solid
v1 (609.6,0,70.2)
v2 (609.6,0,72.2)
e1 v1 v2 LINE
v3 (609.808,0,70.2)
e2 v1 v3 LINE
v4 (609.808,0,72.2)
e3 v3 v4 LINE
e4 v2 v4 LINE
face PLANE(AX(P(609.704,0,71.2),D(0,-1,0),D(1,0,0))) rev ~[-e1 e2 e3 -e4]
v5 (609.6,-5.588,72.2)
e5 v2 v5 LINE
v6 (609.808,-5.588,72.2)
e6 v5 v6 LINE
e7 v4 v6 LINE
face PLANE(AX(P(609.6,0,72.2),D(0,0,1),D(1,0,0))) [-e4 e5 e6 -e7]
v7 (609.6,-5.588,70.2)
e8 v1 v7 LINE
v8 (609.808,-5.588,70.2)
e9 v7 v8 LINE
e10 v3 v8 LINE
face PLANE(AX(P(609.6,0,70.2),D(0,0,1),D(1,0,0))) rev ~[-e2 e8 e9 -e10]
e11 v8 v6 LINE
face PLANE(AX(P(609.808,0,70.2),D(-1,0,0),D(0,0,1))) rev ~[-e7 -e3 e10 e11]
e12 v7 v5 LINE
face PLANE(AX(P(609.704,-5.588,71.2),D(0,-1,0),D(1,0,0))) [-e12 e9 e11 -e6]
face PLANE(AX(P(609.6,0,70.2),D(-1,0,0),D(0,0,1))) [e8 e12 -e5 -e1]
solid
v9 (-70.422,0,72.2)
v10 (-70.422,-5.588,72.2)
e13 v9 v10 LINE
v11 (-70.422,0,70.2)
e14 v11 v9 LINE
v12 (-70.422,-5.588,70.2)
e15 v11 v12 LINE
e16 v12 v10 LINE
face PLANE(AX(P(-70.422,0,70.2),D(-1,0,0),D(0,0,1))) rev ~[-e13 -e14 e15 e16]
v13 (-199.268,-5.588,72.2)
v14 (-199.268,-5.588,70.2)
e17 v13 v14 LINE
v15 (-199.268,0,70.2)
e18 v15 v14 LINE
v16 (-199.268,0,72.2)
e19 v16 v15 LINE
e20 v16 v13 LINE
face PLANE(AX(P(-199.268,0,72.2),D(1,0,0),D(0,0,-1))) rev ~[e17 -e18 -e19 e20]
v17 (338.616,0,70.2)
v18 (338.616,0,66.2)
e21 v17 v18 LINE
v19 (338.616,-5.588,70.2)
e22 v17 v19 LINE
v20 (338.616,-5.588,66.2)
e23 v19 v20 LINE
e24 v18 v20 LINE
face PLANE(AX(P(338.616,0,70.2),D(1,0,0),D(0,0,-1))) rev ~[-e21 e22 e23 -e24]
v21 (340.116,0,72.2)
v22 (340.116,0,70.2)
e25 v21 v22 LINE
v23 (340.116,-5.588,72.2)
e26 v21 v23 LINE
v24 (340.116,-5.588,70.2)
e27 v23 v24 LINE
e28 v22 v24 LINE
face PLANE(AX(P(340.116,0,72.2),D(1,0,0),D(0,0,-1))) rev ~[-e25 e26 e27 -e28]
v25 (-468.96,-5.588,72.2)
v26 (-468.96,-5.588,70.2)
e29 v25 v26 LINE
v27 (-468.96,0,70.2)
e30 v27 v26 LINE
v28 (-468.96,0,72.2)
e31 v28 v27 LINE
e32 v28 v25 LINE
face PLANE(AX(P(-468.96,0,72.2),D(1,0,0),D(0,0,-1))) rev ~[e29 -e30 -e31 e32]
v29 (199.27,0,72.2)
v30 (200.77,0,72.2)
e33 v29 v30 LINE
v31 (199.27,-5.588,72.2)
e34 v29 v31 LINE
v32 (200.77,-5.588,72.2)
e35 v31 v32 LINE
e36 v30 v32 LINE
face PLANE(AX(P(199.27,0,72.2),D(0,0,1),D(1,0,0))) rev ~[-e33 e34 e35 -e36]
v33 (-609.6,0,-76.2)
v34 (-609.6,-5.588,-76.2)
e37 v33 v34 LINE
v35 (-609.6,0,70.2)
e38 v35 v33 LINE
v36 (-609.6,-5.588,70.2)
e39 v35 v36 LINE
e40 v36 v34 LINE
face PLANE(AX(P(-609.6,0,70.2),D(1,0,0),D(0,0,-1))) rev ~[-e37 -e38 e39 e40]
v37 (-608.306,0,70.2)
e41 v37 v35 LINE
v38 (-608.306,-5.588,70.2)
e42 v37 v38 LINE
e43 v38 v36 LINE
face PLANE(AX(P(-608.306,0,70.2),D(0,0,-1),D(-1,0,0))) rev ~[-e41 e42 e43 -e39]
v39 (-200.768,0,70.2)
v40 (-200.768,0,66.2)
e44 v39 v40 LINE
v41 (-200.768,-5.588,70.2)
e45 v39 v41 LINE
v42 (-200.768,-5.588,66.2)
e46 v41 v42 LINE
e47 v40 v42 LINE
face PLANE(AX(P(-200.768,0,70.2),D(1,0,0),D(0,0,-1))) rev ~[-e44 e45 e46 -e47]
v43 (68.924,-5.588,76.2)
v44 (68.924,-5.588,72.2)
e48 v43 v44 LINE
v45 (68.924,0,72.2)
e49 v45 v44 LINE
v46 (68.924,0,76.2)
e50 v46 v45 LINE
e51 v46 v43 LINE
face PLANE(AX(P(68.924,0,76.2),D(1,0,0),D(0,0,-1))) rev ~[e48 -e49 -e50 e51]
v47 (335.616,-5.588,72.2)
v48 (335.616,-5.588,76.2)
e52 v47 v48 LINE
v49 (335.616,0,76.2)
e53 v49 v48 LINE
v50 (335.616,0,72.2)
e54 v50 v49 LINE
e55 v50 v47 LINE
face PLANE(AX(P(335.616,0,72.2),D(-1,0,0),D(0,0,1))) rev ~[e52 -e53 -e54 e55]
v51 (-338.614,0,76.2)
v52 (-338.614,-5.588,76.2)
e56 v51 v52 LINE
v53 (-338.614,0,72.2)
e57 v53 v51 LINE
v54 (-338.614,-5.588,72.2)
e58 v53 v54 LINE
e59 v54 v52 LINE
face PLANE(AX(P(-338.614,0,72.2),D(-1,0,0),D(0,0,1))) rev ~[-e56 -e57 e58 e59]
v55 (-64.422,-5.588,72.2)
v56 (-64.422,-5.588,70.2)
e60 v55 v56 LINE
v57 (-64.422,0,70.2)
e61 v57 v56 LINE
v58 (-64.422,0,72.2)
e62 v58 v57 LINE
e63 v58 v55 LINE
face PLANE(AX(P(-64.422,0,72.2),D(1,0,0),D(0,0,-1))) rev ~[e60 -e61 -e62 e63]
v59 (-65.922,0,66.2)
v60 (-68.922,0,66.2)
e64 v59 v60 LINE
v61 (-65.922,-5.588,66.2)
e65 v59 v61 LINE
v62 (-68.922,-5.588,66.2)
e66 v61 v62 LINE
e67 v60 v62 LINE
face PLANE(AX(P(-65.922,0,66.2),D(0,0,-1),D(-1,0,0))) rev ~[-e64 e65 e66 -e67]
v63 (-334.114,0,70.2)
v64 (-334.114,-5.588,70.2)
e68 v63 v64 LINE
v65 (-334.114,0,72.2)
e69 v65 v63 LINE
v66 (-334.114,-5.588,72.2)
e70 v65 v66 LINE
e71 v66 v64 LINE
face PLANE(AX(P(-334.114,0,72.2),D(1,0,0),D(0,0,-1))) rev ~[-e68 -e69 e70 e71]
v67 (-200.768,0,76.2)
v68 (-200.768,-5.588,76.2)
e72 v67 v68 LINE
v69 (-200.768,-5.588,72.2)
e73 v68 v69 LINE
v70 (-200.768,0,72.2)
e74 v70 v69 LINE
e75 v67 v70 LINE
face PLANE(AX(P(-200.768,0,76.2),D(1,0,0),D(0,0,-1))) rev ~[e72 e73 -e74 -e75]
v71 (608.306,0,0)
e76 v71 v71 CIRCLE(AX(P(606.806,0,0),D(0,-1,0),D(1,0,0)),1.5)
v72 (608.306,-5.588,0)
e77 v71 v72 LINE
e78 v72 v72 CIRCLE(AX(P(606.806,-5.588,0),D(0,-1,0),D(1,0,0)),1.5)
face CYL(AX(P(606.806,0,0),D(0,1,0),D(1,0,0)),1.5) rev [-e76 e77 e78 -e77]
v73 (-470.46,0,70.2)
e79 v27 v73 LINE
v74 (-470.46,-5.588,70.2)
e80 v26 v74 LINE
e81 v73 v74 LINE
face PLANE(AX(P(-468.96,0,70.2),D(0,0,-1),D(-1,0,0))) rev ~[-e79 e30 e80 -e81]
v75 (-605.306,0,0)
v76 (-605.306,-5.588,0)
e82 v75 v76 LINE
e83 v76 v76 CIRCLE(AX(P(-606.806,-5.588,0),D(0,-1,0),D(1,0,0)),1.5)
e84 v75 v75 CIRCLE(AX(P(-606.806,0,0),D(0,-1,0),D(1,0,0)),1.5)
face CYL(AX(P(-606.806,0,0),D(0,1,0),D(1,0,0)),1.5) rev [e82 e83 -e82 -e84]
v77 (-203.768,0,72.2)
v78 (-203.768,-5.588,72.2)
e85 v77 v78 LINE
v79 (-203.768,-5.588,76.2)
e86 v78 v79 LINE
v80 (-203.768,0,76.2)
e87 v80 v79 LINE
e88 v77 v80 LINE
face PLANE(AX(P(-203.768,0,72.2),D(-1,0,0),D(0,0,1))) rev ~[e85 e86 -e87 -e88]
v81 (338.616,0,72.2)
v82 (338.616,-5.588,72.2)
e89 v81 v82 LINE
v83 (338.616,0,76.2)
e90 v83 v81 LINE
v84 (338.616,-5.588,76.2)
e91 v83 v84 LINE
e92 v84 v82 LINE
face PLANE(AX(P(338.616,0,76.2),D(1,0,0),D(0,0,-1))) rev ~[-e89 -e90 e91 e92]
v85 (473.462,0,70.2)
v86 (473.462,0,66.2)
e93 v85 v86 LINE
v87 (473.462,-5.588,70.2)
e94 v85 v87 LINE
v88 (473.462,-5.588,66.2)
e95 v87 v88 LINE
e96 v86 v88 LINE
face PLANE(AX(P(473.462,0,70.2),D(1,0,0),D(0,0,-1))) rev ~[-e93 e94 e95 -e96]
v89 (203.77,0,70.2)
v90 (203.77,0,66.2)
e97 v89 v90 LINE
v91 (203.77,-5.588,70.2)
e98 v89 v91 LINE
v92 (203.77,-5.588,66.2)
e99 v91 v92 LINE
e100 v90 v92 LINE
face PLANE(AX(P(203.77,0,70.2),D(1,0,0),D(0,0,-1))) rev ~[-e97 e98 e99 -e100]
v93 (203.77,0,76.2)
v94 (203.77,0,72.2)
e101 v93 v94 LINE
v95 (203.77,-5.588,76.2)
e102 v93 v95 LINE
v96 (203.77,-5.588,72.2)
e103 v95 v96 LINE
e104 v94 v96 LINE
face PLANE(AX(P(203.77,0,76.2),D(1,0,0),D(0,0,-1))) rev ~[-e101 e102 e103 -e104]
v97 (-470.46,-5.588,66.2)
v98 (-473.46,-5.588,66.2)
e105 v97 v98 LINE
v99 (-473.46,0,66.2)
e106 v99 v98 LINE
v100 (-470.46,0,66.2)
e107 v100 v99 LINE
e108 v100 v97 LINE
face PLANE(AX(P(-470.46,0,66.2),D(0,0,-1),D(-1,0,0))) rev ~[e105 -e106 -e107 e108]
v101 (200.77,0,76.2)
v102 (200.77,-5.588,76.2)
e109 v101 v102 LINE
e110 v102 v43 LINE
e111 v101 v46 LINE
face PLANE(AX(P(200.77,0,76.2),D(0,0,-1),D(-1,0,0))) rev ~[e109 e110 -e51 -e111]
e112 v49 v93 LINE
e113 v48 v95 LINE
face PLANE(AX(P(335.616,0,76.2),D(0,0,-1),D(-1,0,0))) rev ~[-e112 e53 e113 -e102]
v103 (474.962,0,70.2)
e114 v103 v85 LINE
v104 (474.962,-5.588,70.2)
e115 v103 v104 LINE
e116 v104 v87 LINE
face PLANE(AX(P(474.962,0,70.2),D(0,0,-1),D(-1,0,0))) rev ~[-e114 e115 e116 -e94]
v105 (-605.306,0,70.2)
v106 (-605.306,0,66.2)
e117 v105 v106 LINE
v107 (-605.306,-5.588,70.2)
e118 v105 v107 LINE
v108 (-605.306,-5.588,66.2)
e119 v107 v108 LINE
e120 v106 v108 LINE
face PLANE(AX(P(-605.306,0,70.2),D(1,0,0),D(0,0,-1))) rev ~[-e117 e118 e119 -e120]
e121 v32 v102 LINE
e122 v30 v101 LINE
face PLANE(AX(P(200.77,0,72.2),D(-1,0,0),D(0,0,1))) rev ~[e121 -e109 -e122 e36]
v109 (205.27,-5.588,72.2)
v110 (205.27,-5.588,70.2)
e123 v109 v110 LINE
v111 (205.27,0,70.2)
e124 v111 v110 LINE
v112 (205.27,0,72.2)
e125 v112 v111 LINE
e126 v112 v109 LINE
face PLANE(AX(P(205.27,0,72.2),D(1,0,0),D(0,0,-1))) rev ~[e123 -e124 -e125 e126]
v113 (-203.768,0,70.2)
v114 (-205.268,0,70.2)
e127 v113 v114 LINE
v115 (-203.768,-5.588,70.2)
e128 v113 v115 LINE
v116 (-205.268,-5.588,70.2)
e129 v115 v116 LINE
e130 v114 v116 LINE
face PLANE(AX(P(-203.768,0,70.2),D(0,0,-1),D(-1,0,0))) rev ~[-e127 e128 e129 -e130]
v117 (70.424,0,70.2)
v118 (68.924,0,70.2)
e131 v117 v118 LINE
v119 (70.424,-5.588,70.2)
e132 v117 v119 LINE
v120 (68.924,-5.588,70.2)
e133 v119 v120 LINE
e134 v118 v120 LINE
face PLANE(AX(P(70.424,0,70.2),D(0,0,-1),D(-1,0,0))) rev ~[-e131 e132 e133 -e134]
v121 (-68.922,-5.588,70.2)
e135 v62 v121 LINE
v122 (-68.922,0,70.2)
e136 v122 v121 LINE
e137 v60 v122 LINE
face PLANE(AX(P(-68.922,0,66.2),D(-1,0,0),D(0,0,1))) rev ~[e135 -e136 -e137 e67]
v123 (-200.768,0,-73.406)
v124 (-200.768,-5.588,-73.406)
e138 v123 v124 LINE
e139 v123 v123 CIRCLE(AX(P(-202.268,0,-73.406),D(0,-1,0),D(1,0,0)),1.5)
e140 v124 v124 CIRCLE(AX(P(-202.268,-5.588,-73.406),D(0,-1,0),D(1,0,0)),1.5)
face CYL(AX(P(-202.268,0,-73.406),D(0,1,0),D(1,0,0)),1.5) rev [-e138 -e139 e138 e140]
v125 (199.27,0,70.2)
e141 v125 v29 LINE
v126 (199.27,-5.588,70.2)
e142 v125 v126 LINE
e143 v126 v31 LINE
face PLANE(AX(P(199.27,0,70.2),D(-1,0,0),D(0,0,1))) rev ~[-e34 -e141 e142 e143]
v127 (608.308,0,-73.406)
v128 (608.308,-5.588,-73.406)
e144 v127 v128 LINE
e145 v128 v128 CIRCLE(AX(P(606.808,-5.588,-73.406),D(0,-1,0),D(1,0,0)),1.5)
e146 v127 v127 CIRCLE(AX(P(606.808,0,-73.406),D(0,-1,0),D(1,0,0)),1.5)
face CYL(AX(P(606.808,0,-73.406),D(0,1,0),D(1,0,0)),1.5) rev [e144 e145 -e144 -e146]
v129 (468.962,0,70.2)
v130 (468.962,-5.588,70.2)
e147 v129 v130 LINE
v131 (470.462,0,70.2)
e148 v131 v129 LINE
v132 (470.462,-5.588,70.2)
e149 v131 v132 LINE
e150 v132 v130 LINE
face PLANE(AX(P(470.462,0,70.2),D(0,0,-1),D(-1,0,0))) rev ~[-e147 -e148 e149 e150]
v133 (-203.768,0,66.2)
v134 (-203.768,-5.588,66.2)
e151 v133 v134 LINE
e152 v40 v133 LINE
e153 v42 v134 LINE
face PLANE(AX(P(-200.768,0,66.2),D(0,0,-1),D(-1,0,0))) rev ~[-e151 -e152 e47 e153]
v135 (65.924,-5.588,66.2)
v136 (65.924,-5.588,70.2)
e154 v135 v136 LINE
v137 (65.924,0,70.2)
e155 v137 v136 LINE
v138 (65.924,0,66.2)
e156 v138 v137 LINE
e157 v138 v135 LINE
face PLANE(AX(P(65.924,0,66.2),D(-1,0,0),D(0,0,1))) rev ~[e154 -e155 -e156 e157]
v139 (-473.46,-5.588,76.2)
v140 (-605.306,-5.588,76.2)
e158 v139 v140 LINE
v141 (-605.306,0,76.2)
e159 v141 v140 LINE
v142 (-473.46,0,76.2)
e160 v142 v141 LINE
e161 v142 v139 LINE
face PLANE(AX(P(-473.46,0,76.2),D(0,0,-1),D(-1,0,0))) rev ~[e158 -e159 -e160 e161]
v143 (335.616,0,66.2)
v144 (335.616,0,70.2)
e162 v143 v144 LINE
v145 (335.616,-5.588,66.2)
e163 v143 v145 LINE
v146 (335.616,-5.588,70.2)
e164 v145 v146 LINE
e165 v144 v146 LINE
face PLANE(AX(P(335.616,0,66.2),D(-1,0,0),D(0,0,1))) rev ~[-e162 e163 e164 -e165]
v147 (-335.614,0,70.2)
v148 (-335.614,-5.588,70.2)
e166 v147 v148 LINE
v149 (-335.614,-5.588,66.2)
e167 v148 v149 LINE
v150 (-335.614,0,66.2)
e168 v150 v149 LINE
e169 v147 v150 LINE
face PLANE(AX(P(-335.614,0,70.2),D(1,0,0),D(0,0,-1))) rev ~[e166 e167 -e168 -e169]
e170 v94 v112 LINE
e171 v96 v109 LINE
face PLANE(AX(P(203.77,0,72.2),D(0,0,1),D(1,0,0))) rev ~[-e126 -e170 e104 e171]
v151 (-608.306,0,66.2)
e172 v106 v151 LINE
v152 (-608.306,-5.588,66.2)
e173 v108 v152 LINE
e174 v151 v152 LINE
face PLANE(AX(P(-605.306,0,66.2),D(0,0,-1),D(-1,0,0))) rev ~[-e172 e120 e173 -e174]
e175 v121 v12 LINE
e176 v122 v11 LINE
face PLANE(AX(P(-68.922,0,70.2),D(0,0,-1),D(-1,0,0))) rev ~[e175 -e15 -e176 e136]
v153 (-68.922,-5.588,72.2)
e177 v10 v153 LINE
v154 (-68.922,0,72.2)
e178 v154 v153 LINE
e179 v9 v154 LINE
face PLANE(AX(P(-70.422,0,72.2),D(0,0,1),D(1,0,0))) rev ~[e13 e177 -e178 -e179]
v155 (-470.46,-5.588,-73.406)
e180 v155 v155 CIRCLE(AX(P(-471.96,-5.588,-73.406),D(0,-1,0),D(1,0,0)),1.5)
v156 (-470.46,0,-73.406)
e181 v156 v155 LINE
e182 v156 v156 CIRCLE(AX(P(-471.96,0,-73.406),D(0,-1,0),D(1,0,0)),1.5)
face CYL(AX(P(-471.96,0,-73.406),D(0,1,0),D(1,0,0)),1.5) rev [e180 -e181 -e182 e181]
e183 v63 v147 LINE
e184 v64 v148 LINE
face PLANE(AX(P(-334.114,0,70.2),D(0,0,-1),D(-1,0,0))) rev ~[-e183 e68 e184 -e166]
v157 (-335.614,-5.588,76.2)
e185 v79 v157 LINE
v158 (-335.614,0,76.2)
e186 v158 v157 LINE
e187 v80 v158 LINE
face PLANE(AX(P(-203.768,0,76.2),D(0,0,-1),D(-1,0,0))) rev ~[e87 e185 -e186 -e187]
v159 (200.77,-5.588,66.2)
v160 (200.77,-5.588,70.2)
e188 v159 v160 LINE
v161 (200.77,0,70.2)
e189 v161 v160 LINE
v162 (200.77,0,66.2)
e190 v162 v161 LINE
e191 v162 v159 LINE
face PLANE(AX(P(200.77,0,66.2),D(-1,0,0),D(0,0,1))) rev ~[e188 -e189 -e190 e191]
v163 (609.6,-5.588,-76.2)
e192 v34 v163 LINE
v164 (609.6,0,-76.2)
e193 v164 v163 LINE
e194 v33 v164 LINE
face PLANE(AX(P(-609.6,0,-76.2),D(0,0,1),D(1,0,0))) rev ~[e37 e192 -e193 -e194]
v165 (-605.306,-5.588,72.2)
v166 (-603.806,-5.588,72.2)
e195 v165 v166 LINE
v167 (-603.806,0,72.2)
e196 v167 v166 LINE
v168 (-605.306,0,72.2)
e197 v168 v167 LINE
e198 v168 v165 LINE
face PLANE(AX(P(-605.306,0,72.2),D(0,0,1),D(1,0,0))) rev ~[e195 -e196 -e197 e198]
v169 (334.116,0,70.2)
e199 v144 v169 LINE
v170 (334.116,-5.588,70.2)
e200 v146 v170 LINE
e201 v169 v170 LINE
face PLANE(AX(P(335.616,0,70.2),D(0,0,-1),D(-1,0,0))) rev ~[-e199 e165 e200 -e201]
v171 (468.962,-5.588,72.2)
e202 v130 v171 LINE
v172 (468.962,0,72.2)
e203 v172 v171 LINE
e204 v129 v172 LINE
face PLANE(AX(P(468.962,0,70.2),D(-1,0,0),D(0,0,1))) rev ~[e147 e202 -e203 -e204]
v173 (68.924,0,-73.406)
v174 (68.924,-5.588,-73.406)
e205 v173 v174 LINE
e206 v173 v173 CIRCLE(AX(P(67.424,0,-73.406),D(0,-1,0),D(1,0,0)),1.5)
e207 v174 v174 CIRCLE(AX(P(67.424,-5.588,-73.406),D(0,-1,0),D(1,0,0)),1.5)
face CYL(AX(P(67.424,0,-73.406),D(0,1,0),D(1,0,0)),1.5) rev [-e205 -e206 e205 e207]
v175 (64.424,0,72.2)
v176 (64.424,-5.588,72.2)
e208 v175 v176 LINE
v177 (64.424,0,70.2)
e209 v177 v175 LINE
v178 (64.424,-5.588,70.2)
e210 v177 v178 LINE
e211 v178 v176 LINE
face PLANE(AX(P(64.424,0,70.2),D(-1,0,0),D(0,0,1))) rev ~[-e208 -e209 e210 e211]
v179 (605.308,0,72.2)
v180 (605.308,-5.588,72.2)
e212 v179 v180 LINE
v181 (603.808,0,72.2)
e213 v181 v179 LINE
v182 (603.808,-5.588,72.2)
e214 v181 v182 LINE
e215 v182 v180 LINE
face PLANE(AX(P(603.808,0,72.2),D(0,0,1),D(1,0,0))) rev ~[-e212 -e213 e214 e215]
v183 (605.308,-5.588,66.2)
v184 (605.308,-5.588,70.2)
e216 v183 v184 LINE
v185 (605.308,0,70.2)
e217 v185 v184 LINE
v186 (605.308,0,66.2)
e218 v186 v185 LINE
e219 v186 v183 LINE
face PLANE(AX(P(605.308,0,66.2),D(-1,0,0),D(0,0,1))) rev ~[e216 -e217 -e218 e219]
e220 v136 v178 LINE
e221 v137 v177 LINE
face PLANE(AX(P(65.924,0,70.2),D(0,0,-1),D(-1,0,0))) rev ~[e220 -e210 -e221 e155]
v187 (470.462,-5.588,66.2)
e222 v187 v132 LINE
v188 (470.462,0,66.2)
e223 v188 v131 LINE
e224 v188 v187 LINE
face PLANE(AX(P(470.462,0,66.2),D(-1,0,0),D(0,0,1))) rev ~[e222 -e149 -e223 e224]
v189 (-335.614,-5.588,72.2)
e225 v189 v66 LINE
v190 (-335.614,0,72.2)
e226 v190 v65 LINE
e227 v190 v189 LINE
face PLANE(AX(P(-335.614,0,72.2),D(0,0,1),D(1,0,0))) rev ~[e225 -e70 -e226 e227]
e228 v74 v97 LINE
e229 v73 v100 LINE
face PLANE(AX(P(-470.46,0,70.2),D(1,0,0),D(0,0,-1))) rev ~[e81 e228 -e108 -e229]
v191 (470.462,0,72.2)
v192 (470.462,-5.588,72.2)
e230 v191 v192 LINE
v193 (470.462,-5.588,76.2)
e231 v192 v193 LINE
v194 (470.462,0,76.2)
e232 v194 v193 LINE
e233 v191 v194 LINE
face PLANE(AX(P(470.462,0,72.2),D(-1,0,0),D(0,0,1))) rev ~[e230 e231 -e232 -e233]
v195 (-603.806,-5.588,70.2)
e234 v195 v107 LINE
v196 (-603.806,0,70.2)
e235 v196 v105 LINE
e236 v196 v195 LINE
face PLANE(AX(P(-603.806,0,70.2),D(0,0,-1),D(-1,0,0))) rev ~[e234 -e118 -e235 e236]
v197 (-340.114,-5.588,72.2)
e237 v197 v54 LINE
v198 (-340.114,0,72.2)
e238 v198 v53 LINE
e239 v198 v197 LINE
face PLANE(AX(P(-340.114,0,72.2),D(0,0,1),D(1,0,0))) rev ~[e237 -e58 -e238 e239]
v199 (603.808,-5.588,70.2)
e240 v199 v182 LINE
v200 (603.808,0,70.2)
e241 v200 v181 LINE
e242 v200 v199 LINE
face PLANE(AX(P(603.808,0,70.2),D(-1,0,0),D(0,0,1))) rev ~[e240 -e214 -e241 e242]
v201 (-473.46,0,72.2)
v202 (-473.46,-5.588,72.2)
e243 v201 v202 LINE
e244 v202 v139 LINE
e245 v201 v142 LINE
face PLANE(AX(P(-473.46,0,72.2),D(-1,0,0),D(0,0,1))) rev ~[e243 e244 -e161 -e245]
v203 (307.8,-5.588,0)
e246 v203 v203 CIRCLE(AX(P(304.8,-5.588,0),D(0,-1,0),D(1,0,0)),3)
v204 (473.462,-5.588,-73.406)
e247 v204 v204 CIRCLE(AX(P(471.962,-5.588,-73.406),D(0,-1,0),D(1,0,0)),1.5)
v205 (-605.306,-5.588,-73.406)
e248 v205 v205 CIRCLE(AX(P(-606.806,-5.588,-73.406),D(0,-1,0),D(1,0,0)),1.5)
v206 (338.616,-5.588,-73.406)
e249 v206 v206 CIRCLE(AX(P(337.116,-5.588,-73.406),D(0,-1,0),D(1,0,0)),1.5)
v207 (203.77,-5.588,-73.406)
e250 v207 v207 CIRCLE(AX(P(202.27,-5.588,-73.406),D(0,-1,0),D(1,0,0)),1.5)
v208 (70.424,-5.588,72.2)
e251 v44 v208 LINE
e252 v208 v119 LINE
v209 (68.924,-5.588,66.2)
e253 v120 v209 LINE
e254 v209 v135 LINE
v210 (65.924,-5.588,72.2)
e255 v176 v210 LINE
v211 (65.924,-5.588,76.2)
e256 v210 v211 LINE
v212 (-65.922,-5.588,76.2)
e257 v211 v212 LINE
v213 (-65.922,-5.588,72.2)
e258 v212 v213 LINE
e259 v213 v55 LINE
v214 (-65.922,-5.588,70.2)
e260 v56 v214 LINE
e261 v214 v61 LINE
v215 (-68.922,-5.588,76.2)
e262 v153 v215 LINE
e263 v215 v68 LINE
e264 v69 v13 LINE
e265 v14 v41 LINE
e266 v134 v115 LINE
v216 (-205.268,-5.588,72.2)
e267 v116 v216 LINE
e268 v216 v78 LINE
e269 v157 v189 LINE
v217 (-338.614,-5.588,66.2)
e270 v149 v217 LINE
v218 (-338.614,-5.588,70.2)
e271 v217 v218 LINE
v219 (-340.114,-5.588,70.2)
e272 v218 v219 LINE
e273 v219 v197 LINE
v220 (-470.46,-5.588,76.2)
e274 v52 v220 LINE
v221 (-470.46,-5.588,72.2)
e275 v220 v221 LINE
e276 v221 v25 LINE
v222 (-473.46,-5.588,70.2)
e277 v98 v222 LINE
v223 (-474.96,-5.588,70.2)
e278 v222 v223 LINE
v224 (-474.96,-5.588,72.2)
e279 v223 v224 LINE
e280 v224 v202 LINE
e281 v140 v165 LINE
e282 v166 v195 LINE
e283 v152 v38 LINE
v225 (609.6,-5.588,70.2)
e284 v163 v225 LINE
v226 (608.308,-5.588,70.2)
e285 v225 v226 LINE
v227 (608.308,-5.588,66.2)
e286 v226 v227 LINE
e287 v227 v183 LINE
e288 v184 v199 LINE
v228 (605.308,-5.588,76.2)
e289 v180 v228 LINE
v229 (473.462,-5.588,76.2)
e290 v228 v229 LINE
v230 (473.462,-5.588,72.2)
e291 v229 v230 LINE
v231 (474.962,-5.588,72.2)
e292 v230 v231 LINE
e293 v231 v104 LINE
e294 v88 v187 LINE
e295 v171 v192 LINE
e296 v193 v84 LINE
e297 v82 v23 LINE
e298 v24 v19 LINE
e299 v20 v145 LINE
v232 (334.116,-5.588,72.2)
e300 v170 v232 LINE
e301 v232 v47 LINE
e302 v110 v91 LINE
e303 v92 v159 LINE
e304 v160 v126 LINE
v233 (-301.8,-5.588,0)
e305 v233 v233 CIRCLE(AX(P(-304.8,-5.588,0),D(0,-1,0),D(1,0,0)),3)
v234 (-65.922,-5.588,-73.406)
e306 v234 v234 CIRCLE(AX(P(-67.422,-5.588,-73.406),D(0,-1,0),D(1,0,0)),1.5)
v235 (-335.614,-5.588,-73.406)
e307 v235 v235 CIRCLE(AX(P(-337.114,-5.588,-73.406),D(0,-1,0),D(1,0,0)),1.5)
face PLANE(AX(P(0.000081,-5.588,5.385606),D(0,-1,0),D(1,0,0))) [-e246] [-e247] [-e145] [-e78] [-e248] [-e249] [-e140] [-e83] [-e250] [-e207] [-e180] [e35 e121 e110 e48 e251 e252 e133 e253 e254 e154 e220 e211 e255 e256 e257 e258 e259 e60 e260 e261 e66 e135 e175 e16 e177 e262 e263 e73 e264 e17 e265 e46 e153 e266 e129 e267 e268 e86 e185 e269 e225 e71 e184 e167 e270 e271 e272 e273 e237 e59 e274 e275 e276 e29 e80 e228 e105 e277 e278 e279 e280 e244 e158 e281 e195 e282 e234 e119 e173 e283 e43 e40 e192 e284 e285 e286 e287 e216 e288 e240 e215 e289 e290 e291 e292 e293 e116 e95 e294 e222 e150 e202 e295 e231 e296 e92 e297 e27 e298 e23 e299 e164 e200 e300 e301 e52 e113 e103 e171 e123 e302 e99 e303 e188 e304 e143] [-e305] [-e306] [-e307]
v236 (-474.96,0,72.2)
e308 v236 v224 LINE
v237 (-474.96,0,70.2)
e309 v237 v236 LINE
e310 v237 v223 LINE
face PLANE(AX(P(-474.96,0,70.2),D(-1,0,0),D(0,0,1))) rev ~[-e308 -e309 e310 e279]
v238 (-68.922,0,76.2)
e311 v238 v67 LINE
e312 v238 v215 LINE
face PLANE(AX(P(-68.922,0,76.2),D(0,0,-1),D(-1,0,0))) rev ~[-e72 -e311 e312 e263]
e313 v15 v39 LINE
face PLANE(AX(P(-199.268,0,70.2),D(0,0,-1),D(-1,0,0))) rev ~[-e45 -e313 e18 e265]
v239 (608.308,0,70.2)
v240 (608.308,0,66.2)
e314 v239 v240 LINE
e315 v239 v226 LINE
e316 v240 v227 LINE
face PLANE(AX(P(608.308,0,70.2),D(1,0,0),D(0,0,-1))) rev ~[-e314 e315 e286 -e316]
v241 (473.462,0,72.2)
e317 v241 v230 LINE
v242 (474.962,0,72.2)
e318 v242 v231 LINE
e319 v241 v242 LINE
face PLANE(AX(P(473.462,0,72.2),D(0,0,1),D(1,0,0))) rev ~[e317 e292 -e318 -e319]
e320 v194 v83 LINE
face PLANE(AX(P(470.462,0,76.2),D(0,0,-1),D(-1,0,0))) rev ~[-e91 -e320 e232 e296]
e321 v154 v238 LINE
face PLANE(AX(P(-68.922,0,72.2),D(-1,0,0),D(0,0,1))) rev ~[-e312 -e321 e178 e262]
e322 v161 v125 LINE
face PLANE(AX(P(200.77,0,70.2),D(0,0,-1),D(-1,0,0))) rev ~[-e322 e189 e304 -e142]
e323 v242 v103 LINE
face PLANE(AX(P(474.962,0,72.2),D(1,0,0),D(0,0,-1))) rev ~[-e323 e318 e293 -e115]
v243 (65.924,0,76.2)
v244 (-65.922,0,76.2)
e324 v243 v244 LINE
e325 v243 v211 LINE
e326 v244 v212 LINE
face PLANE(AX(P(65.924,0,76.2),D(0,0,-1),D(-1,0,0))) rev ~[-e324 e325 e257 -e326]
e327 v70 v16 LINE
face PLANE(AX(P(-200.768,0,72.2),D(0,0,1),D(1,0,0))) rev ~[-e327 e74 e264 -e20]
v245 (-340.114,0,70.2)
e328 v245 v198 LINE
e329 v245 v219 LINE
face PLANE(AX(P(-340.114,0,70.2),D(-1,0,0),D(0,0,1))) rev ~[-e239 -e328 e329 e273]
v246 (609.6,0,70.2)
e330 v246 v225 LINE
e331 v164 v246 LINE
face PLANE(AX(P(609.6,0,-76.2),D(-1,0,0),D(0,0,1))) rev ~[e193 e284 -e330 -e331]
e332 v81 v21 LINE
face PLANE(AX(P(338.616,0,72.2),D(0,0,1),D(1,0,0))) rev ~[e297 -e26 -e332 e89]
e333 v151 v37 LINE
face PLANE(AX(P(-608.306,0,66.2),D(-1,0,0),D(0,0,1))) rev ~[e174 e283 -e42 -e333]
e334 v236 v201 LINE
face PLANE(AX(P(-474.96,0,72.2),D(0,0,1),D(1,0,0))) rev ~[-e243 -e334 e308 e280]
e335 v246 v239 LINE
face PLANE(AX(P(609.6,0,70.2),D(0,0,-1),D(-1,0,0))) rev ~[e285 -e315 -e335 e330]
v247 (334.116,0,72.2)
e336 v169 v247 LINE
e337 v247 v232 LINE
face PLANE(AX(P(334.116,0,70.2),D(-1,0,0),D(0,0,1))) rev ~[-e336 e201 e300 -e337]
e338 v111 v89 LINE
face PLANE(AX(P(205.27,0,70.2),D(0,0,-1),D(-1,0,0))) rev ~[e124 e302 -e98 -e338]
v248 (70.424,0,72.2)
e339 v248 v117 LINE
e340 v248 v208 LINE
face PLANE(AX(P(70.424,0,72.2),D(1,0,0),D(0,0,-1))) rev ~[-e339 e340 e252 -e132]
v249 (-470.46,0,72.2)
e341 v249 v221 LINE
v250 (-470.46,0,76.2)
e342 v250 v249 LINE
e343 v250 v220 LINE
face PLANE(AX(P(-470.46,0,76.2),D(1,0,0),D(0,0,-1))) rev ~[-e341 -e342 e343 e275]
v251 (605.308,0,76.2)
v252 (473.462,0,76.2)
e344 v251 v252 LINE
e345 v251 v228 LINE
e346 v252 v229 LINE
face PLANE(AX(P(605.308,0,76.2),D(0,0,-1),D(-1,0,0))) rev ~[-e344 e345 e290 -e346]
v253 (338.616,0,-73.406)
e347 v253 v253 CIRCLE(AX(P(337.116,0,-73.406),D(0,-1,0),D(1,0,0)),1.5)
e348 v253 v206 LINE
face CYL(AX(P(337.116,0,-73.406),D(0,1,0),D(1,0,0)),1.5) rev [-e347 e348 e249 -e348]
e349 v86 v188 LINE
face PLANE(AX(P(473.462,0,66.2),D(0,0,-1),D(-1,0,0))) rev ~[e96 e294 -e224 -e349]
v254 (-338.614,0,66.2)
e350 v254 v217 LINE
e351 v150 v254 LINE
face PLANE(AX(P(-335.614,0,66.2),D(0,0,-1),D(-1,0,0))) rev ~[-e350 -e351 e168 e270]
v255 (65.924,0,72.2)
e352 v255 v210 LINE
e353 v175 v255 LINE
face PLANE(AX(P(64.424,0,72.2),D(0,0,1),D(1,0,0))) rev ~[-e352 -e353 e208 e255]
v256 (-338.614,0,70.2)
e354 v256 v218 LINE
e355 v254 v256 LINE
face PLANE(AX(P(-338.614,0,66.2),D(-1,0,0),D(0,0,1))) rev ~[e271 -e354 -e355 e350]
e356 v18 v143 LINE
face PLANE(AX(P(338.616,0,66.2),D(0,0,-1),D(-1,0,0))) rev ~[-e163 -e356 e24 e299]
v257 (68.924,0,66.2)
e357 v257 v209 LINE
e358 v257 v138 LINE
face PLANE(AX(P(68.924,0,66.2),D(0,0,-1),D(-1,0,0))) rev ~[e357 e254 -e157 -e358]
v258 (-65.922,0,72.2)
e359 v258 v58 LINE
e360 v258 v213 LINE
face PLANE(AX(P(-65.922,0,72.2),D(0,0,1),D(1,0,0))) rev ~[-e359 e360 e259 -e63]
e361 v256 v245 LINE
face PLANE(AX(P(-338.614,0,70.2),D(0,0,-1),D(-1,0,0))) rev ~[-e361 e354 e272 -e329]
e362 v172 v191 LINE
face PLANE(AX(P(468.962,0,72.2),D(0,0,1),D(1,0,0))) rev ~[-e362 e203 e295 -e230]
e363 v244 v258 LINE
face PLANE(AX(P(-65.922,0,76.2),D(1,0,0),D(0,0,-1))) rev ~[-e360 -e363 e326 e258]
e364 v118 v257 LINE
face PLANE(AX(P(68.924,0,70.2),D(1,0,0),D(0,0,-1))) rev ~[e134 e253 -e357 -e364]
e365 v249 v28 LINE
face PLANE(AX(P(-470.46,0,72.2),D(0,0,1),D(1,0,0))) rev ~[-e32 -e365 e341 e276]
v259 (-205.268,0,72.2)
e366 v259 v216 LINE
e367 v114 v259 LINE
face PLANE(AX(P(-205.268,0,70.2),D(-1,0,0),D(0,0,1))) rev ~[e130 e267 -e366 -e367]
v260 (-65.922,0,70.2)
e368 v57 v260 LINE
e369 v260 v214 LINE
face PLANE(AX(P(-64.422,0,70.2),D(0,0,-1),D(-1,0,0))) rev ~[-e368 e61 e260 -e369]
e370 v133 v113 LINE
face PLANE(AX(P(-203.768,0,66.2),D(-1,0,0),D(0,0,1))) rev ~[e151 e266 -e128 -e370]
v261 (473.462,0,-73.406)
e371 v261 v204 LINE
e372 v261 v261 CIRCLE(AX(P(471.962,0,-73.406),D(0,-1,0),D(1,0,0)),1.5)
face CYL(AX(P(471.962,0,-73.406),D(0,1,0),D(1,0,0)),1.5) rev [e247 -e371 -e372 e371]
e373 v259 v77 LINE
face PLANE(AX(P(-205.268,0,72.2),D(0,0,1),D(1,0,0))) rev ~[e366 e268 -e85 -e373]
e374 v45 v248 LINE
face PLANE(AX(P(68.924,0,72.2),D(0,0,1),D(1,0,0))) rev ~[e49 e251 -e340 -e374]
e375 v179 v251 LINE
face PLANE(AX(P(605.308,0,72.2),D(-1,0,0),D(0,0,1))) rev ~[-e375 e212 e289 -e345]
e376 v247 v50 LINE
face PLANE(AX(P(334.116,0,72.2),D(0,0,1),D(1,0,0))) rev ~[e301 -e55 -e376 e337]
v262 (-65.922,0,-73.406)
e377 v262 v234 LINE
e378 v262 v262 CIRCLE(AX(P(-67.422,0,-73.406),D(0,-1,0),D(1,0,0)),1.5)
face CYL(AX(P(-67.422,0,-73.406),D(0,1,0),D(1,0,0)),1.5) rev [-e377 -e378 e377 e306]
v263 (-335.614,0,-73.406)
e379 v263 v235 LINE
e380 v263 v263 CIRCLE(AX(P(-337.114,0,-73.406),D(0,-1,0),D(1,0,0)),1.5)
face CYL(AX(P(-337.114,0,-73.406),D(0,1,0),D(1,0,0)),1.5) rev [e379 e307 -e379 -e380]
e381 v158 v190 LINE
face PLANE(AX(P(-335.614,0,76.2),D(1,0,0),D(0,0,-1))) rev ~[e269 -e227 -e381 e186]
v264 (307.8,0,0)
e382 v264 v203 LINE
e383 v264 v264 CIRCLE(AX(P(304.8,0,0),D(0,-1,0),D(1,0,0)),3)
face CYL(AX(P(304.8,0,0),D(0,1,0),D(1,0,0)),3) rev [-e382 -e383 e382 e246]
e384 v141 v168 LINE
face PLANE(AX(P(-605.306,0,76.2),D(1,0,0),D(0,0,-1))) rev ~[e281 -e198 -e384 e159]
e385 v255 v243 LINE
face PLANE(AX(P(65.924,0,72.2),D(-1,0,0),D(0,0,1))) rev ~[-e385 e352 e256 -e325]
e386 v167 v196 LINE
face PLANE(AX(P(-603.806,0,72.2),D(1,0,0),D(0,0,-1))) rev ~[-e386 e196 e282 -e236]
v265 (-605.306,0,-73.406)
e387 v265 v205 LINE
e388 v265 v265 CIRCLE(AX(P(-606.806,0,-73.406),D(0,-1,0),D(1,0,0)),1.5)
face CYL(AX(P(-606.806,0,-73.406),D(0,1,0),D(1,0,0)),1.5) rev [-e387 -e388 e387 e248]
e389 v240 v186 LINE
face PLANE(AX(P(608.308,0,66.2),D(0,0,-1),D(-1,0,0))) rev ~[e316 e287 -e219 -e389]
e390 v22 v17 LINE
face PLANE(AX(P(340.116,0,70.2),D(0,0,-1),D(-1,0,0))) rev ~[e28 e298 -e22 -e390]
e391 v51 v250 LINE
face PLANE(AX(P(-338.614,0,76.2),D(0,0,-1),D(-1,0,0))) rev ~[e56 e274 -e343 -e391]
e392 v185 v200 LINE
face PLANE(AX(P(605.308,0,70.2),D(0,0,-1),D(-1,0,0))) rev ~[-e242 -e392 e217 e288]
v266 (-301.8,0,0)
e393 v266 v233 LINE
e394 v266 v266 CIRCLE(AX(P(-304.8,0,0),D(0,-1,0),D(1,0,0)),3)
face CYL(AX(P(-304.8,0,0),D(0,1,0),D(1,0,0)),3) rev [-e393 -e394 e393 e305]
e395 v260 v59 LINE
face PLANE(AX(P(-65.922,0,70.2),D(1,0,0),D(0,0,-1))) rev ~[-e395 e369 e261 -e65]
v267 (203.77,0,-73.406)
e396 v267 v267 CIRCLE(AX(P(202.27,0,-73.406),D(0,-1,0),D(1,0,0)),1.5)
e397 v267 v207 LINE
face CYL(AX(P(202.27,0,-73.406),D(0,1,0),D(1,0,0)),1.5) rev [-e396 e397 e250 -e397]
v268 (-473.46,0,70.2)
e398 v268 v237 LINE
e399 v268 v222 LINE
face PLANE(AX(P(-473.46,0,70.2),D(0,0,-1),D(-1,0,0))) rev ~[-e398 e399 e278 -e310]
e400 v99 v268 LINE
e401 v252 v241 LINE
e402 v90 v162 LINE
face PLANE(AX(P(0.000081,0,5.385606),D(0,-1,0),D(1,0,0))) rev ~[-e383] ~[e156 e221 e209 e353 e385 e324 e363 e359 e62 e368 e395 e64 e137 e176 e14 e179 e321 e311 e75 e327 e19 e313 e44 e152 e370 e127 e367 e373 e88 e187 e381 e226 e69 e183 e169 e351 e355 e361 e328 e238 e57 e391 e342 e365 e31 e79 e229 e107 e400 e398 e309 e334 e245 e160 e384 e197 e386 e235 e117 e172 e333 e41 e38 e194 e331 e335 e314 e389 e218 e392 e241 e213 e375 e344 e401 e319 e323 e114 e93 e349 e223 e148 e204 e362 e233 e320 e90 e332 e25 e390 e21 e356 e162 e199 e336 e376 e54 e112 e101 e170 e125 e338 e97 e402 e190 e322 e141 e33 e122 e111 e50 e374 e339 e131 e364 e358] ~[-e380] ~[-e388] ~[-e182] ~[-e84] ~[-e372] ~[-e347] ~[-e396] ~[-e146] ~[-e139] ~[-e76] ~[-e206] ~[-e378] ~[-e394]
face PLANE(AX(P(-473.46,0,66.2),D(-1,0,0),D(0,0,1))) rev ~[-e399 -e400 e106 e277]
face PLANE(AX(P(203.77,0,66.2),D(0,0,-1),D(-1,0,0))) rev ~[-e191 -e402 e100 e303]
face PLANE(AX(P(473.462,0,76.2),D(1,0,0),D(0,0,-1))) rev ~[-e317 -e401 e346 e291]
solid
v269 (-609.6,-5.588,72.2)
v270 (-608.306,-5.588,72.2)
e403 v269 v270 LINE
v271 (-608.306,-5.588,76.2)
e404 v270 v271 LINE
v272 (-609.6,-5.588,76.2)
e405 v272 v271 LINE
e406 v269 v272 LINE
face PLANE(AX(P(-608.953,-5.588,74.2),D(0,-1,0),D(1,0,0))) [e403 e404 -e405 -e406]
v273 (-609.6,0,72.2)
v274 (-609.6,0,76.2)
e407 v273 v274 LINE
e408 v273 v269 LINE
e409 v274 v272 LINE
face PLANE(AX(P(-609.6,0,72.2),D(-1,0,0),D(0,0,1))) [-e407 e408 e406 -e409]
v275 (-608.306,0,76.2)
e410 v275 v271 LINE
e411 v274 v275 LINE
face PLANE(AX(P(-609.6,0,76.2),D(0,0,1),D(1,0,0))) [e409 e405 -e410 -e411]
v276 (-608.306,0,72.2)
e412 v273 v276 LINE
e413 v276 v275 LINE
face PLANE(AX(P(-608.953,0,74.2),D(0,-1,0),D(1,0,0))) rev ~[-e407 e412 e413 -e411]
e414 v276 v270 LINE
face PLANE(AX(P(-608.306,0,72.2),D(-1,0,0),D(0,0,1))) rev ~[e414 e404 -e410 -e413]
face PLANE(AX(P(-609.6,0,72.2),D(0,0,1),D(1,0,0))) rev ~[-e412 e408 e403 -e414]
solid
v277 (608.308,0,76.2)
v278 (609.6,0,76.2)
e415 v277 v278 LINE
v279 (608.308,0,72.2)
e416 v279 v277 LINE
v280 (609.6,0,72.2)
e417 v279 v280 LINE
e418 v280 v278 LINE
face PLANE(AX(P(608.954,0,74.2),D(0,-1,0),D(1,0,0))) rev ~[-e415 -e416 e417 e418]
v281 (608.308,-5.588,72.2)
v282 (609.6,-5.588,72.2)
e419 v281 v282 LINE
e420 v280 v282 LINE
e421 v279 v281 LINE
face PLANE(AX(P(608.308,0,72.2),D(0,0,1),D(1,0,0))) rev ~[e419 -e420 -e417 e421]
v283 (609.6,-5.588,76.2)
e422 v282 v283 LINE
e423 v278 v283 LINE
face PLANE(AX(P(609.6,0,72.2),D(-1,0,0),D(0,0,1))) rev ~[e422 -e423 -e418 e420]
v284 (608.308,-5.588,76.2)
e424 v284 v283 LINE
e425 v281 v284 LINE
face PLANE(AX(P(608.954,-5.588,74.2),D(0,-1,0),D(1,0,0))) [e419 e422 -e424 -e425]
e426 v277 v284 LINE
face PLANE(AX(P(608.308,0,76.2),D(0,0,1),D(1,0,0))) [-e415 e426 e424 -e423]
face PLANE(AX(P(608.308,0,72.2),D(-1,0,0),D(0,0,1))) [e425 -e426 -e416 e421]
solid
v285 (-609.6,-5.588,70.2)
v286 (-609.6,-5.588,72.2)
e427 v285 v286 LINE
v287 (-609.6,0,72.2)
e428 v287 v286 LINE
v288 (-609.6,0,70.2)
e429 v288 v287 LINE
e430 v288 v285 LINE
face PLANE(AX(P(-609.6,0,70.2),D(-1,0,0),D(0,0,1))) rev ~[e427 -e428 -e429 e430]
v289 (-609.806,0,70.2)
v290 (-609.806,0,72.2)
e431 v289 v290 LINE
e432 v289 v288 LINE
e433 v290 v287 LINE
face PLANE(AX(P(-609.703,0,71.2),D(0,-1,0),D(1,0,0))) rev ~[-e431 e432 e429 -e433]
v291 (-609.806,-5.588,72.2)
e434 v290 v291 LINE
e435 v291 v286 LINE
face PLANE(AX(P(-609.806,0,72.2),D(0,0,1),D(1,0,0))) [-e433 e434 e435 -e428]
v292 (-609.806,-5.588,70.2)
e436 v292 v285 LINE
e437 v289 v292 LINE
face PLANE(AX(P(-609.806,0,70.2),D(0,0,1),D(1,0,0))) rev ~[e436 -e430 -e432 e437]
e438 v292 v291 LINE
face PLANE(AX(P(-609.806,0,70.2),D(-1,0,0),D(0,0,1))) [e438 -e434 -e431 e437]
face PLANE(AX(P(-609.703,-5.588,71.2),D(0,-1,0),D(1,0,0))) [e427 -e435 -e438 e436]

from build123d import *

# Parameters (mm, degrees)
F0_W     = 1.294
F0_H     = 4
F0_W_2   = 0.206
F0_H_2   = 2
F0_W_3   = 1.292
F0_W_4   = 0.208
F0_R     = 1.5
F0_R_2   = 3
F1_DEPTH = 5.588


with BuildPart() as f1:
    # F0 (on Front) → F1 (new body)
    with BuildSketch(Plane.XZ):
        with Locations((-608.953, 74.2)):
            Rectangle(F0_W, F0_H)
        with Locations((-609.703, 71.2)):
            Rectangle(F0_W_2, F0_H_2)
        with Locations((608.954, 74.2)):
            Rectangle(F0_W_3, F0_H)
        with Locations((609.704, 71.2)):
            Rectangle(F0_W_4, F0_H_2)
        Polygon((-609.6, -76.2), (609.6, -76.2), (609.6, 70.2), (608.308, 70.2), (608.308, 66.2), (606.808, 66.2), (605.308, 66.2), (605.308, 70.2), (603.808, 70.2), (603.808, 72.2), (605.308, 72.2), (605.308, 76.2), (473.462, 76.2), (473.462, 72.2), (474.962, 72.2), (474.962, 70.2), (473.462, 70.2), (473.462, 66.2), (471.962, 66.2), (470.462, 66.2), (470.462, 70.2), (468.962, 70.2), (468.962, 72.2), (470.462, 72.2), (470.462, 76.2), (338.616, 76.2), (338.616, 72.2), (340.116, 72.2), (340.116, 70.2), (338.616, 70.2), (338.616, 66.2), (337.116, 66.2), (335.616, 66.2), (335.616, 70.2), (334.116, 70.2), (334.116, 72.2), (335.616, 72.2), (335.616, 76.2), (203.77, 76.2), (203.77, 72.2), (205.27, 72.2), (205.27, 70.2), (203.77, 70.2), (203.77, 66.2), (202.27, 66.2), (200.77, 66.2), (200.77, 70.2), (199.27, 70.2), (199.27, 72.2), (200.77, 72.2), (200.77, 76.2), (68.924, 76.2), (68.924, 72.2), (70.424, 72.2), (70.424, 70.2), (68.924, 70.2), (68.924, 66.2), (67.424, 66.2), (65.924, 66.2), (65.924, 70.2), (64.424, 70.2), (64.424, 72.2), (65.924, 72.2), (65.924, 76.2), (-65.922, 76.2), (-65.922, 72.2), (-64.422, 72.2), (-64.422, 70.2), (-65.922, 70.2), (-65.922, 66.2), (-67.422, 66.2), (-68.922, 66.2), (-68.922, 70.2), (-70.422, 70.2), (-70.422, 72.2), (-68.922, 72.2), (-68.922, 76.2), (-200.768, 76.2), (-200.768, 72.2), (-199.268, 72.2), (-199.268, 70.2), (-200.768, 70.2), (-200.768, 66.2), (-202.268, 66.2), (-203.768, 66.2), (-203.768, 70.2), (-205.268, 70.2), (-205.268, 72.2), (-203.768, 72.2), (-203.768, 76.2), (-335.614, 76.2), (-335.614, 72.2), (-334.114, 72.2), (-334.114, 70.2), (-335.614, 70.2), (-335.614, 66.2), (-337.114, 66.2), (-338.614, 66.2), (-338.614, 70.2), (-340.114, 70.2), (-340.114, 72.2), (-338.614, 72.2), (-338.614, 76.2), (-470.46, 76.2), (-470.46, 72.2), (-468.96, 72.2), (-468.96, 70.2), (-470.46, 70.2), (-470.46, 66.2), (-471.96, 66.2), (-473.46, 66.2), (-473.46, 70.2), (-474.96, 70.2), (-474.96, 72.2), (-473.46, 72.2), (-473.46, 76.2), (-605.306, 76.2), (-605.306, 72.2), (-603.806, 72.2), (-603.806, 70.2), (-605.306, 70.2), (-605.306, 66.2), (-606.806, 66.2), (-608.306, 66.2), (-608.306, 70.2), (-609.6, 70.2), align=None)
        with Locations((-606.806, -73.406)):
            Circle(F0_R, mode=Mode.SUBTRACT)
        with Locations((-471.96, -73.406)):
            Circle(F0_R, mode=Mode.SUBTRACT)
        with Locations((-337.114, -73.406)):
            Circle(F0_R, mode=Mode.SUBTRACT)
        with Locations((-202.268, -73.406)):
            Circle(F0_R, mode=Mode.SUBTRACT)
        with Locations((-67.422, -73.406)):
            Circle(F0_R, mode=Mode.SUBTRACT)
        with Locations((67.424, -73.406)):
            Circle(F0_R, mode=Mode.SUBTRACT)
        with Locations((202.27, -73.406)):
            Circle(F0_R, mode=Mode.SUBTRACT)
        with Locations((337.116, -73.406)):
            Circle(F0_R, mode=Mode.SUBTRACT)
        with Locations((471.962, -73.406)):
            Circle(F0_R, mode=Mode.SUBTRACT)
        with Locations((606.808, -73.406)):
            Circle(F0_R, mode=Mode.SUBTRACT)
        with Locations((-606.806, 0)):
            Circle(F0_R, mode=Mode.SUBTRACT)
        with Locations((-304.8, 0)):
            Circle(F0_R_2, mode=Mode.SUBTRACT)
        with Locations((304.8, 0)):
            Circle(F0_R_2, mode=Mode.SUBTRACT)
        with Locations((606.806, 0)):
            Circle(F0_R, mode=Mode.SUBTRACT)
    extrude(amount=F1_DEPTH)


solid = f1.part
